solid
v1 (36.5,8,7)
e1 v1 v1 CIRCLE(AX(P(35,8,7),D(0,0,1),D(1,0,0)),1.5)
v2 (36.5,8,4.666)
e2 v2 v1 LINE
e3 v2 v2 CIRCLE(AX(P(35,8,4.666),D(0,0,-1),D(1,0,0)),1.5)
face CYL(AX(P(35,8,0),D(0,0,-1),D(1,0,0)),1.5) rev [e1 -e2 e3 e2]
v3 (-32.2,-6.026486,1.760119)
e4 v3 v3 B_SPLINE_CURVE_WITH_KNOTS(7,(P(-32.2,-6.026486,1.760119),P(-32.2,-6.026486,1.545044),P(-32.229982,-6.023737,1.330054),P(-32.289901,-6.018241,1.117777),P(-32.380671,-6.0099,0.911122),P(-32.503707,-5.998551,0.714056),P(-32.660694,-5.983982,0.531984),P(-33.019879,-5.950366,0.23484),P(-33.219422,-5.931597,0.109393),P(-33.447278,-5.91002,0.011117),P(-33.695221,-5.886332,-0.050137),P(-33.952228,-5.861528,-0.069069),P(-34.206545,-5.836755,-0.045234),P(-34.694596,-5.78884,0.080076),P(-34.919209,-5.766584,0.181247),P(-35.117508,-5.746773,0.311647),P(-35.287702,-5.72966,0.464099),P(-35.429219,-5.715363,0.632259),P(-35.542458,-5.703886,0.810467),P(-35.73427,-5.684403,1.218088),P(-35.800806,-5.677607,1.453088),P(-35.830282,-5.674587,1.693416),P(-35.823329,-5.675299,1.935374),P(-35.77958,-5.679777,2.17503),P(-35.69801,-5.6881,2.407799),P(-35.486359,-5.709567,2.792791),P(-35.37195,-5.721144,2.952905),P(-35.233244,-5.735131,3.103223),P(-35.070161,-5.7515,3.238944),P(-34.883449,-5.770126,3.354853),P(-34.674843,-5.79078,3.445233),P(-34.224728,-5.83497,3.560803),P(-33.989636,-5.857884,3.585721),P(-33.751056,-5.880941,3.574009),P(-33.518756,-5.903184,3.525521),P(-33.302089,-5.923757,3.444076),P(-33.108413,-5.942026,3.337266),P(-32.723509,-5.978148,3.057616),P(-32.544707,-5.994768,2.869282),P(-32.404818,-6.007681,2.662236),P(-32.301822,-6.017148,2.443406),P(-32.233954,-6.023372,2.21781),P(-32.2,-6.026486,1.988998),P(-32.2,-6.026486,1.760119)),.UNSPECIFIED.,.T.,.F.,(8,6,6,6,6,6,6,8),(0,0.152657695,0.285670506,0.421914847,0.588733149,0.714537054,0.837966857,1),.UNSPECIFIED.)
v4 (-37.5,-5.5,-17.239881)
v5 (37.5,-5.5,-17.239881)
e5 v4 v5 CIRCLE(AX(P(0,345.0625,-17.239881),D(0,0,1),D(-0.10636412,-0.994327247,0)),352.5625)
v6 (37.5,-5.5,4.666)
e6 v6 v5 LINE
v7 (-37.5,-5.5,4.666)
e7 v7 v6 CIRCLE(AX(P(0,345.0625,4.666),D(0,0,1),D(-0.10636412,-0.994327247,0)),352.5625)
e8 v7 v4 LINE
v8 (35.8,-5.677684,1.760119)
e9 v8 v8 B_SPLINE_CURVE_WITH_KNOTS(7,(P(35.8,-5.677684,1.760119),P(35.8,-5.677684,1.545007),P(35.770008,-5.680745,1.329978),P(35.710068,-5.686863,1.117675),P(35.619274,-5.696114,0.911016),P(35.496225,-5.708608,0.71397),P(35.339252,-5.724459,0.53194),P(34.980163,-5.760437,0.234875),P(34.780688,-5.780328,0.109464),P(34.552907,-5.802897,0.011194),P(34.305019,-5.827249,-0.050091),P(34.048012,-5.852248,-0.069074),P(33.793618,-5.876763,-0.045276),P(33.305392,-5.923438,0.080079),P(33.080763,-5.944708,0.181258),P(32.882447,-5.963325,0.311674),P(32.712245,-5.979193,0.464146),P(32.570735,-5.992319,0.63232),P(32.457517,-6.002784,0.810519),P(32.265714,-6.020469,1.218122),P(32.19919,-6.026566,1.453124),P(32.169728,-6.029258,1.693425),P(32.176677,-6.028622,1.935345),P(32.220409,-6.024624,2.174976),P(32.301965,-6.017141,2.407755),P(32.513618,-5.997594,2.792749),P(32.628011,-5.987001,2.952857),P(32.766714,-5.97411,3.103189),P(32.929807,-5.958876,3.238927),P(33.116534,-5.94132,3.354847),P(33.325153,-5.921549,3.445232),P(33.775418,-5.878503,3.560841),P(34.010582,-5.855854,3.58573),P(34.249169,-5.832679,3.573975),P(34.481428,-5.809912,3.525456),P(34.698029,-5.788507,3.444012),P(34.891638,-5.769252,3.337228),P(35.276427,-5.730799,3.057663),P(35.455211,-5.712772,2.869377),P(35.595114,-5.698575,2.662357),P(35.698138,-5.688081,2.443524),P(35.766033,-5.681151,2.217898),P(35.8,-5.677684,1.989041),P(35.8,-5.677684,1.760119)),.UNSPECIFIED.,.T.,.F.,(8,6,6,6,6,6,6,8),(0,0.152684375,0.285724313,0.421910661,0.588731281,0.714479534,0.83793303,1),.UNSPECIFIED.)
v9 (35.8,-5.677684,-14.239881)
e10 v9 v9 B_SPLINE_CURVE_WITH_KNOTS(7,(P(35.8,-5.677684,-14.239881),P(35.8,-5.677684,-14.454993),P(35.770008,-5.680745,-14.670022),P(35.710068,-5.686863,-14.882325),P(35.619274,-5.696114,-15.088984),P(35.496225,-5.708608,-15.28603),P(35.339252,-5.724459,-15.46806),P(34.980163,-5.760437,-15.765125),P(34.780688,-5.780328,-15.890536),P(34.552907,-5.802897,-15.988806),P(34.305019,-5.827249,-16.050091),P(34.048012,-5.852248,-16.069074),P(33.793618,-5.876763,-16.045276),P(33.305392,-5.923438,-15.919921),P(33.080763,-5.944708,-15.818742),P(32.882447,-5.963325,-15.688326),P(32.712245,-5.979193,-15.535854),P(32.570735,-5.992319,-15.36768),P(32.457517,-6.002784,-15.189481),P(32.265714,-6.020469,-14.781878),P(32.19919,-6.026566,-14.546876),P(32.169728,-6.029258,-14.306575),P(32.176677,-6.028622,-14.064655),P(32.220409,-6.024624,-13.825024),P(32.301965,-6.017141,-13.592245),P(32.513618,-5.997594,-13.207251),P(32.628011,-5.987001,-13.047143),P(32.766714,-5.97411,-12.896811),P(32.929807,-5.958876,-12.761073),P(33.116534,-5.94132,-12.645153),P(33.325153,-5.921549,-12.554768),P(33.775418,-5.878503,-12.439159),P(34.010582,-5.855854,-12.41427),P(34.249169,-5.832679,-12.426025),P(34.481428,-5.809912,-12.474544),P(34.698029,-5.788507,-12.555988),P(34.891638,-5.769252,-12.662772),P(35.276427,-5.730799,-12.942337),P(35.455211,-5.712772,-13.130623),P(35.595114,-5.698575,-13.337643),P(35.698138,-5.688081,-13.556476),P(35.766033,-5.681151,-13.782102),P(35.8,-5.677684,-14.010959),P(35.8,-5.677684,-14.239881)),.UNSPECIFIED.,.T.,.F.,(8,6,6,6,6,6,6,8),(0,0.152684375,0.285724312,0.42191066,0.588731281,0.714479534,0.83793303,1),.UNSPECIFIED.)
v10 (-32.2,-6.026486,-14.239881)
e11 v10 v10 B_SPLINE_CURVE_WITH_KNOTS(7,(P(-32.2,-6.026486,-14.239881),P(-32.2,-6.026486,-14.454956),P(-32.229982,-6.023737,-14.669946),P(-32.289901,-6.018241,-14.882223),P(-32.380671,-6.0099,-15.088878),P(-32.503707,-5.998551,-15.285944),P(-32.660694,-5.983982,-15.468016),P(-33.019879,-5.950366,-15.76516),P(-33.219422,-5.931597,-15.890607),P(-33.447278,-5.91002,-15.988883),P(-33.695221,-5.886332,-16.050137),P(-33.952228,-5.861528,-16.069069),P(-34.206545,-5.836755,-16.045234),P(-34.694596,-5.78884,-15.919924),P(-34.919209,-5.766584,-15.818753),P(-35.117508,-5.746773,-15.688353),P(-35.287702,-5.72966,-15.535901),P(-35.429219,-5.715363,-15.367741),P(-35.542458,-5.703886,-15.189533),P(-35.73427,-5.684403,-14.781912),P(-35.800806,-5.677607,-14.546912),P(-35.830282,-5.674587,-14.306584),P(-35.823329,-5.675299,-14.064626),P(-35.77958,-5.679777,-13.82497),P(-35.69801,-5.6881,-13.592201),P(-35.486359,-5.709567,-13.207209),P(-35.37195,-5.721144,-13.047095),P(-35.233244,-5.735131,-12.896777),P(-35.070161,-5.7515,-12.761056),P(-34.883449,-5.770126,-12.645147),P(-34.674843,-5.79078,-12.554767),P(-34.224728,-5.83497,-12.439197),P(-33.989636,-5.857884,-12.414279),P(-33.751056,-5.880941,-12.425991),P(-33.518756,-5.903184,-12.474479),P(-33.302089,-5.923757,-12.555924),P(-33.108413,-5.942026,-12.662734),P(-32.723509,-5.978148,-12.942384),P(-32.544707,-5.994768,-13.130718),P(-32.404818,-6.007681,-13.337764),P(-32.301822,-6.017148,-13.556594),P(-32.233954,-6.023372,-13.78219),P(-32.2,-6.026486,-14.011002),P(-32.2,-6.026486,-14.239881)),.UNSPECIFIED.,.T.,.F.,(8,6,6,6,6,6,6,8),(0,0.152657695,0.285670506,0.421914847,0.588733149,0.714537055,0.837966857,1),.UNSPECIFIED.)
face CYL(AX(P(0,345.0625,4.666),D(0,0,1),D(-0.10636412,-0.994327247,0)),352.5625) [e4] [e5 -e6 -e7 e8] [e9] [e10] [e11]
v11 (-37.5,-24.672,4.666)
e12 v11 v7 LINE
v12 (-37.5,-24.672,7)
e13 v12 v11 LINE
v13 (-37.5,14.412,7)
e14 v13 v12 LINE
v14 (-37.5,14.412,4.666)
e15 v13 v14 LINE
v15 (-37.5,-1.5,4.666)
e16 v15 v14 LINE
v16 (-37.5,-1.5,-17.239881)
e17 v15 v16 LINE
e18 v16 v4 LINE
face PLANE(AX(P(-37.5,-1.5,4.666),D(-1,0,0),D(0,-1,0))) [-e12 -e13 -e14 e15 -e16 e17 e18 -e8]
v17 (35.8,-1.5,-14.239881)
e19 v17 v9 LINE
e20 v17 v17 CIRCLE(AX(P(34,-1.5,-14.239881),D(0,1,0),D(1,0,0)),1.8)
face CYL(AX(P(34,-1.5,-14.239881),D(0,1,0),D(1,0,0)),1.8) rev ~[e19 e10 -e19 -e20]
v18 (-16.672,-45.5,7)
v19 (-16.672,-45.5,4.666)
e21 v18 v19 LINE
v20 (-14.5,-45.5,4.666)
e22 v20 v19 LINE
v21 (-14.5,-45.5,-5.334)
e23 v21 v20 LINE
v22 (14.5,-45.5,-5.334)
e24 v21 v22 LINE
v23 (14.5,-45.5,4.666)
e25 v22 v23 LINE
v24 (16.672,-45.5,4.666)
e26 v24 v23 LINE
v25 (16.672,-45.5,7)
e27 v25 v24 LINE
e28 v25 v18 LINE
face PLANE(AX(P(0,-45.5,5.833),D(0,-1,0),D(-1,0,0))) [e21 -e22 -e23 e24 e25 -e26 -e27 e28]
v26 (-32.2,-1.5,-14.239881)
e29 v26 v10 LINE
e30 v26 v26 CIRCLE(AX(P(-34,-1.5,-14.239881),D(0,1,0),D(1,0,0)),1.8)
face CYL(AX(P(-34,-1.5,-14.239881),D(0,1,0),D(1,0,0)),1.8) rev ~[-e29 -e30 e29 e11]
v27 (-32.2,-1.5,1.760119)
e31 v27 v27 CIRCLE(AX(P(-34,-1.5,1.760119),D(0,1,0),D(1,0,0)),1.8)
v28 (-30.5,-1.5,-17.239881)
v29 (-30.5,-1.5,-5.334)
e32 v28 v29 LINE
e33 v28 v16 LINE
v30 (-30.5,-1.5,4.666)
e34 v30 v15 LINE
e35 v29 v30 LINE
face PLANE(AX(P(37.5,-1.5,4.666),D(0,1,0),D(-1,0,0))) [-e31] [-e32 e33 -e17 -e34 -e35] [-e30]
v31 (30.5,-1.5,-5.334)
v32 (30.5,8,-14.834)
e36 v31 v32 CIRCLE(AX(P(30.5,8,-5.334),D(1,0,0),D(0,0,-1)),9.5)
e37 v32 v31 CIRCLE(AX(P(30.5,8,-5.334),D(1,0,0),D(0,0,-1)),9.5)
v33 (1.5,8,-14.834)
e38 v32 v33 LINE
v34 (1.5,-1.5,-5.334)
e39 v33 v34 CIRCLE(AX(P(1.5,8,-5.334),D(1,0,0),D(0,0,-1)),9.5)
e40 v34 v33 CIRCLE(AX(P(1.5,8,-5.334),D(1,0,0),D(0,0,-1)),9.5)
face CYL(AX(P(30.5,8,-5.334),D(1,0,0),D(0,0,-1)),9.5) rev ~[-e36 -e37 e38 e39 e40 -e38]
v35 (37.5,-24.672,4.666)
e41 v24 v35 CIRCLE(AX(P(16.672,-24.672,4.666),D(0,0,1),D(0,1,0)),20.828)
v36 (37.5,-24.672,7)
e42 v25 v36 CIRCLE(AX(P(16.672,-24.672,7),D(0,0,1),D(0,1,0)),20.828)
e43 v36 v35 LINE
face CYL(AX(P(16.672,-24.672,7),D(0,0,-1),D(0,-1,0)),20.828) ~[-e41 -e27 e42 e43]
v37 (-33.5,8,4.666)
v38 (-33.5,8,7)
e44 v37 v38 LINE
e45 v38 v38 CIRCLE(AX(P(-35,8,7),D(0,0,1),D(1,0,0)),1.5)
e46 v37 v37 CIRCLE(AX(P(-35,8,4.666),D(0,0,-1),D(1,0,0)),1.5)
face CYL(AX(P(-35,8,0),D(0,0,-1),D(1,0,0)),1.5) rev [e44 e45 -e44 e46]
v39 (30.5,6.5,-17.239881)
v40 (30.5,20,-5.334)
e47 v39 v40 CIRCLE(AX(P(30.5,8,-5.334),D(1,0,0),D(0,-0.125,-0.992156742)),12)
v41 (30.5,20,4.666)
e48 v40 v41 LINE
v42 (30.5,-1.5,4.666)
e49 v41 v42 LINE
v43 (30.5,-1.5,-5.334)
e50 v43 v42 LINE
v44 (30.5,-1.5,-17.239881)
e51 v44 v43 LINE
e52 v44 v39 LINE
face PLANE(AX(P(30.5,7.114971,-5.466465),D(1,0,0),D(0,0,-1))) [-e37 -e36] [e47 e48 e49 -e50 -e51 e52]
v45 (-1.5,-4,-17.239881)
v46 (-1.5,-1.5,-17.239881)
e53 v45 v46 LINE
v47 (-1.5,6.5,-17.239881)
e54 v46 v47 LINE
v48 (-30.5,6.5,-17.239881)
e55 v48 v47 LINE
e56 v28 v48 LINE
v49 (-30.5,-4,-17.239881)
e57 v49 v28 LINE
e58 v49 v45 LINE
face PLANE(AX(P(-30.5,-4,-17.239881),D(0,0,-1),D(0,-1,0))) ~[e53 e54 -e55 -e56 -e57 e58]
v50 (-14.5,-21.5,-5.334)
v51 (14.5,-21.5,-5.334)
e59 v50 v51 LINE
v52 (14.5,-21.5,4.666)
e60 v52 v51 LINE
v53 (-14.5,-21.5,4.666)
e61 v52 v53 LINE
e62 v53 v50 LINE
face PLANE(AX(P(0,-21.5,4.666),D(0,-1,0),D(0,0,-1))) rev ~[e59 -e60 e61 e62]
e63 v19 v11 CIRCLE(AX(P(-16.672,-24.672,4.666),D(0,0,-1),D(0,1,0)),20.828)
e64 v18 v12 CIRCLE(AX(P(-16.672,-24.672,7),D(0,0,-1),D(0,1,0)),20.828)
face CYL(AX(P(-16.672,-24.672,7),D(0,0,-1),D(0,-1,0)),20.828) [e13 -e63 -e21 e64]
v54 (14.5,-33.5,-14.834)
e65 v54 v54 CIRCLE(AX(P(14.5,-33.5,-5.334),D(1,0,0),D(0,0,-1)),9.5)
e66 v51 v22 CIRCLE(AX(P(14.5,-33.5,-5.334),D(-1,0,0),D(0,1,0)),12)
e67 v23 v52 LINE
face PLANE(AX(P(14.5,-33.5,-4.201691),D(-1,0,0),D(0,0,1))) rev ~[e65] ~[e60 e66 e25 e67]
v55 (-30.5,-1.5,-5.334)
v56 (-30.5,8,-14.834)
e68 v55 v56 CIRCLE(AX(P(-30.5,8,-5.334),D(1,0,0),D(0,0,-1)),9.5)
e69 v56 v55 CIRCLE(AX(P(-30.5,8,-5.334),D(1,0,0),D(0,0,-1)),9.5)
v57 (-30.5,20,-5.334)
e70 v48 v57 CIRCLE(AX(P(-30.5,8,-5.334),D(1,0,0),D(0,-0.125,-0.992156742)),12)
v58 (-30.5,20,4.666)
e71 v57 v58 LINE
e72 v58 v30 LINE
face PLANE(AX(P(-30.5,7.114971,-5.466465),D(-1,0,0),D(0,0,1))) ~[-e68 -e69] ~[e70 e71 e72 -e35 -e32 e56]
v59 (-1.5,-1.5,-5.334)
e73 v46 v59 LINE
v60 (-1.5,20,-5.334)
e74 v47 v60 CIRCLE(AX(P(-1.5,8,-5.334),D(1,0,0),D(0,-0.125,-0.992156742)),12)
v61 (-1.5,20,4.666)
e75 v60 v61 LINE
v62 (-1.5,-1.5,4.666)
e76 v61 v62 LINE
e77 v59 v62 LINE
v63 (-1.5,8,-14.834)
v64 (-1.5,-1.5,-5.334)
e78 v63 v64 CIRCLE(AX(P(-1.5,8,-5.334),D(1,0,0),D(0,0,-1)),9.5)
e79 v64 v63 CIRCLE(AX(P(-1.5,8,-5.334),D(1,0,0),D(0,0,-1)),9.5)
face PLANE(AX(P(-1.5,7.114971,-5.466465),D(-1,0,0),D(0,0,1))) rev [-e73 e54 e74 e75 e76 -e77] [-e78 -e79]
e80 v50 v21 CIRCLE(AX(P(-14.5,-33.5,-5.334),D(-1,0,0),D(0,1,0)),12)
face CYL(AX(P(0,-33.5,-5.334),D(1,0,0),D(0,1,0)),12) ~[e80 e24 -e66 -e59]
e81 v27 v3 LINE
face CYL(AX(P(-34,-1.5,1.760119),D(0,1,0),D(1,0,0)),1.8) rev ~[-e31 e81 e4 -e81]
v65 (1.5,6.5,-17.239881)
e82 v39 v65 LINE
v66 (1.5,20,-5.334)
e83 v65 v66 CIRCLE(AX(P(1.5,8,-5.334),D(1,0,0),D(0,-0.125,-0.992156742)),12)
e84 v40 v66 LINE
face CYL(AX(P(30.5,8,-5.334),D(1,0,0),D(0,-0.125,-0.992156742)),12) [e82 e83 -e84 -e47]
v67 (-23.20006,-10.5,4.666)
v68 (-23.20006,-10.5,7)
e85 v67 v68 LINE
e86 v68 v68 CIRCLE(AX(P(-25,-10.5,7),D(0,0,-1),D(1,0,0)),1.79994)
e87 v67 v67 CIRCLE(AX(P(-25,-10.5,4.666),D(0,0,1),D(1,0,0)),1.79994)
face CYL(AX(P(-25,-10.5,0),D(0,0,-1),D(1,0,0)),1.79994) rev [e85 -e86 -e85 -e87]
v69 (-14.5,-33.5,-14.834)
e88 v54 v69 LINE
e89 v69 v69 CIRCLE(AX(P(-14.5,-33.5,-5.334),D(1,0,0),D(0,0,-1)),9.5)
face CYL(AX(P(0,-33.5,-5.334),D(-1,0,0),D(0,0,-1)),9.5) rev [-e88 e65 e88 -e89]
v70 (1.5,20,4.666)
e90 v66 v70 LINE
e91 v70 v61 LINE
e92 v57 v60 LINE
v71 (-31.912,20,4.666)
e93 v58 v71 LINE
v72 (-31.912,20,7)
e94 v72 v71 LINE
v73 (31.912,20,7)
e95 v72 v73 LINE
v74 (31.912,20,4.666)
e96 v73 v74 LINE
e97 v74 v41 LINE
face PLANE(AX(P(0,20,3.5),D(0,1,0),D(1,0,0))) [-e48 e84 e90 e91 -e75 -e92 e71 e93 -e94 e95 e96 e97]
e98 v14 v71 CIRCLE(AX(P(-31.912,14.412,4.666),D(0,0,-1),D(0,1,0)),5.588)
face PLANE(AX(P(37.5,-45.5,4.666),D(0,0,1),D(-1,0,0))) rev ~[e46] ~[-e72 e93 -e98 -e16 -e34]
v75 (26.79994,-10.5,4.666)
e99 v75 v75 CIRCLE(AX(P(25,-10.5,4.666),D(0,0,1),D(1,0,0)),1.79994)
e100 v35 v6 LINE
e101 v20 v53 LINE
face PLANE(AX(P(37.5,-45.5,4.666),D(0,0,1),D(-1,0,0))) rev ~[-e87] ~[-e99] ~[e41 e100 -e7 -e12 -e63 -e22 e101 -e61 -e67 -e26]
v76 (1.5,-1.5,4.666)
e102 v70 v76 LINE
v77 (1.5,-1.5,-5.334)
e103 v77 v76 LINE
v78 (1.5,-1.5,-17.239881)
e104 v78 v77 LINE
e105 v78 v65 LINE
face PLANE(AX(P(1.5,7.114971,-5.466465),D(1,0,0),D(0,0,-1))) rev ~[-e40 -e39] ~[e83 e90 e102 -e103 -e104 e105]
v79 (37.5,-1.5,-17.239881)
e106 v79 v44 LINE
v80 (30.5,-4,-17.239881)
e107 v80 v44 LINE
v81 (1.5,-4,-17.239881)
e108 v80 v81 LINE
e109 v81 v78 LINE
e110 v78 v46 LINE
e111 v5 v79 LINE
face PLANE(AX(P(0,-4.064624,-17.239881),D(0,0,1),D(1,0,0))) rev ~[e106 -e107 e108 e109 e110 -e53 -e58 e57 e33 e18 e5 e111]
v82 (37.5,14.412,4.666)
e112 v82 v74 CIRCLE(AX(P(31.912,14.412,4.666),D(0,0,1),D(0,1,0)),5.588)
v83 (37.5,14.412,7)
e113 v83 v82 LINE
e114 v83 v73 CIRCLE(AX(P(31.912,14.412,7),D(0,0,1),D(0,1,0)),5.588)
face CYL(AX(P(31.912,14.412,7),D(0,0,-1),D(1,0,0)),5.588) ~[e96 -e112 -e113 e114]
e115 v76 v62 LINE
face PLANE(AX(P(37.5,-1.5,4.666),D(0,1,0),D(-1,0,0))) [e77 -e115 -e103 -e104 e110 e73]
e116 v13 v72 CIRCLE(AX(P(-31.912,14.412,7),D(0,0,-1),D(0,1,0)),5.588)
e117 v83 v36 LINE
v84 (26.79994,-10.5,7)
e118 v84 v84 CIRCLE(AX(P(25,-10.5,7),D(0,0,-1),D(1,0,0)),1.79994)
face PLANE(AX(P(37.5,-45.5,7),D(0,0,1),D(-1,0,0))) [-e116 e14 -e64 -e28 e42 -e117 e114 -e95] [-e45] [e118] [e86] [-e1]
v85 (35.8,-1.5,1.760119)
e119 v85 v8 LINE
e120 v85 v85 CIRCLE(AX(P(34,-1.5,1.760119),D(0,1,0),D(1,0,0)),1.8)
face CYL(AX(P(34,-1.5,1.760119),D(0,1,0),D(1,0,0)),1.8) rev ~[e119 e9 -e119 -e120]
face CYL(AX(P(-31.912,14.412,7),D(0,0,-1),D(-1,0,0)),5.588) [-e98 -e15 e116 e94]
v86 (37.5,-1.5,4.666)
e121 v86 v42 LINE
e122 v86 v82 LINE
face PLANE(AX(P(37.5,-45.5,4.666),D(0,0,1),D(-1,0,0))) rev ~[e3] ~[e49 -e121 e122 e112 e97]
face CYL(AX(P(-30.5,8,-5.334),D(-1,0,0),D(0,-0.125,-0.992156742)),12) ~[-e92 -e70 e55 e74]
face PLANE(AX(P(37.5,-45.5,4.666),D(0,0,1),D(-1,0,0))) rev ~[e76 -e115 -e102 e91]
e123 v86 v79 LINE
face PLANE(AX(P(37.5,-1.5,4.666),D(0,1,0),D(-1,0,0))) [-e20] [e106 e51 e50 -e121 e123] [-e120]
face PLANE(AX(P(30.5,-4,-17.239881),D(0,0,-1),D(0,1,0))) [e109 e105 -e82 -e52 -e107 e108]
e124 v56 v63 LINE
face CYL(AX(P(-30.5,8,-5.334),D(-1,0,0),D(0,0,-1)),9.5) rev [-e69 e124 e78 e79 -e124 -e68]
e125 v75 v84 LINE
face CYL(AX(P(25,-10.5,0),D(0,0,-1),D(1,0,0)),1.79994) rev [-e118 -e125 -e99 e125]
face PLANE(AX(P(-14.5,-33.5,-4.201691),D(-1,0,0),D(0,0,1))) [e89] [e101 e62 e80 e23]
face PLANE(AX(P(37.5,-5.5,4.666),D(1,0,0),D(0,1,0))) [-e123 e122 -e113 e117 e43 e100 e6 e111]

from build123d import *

# Parameters (mm, degrees)
SKETCH1_R            = 1.79994
SKETCH1_R_2          = 1.5
BOSS_EXTRUDE1_DEPTH  = 7
SKETCH2_W            = 75
SKETCH2_H            = 13.099999962
SKETCH2_R            = 2.6999438
SKETCH2_R_2          = 2.499995
SKETCH2_R_3          = 1.3498449
BOSS_EXTRUDE2_DEPTH  = 6.987999994
SKETCH2_3_R          = 2.6999438
SKETCH2_3_R_2        = 1.3498449
CUT_EXTRUDE1_DEPTH   = 2.5
SKETCH5_W            = 75
SKETCH5_H            = 13.099999962
CUT_EXTRUDE3_DEPTH   = 21.082
SKETCH6_W            = 75
SKETCH6_H            = 7
BOSS_EXTRUDE3_DEPTH  = 9.5
SKETCH8_W            = 75
SKETCH8_H            = 38.030205227
CUT_EXTRUDE4_DEPTH   = 4.666
SKETCH10_W           = 75
SKETCH10_H           = 2.334
BOSS_EXTRUDE5_DEPTH  = 35
SKETCH11_R           = 1.79994
CUT_EXTRUDE5_DEPTH   = 5
SKETCH15_W           = 44.653530321
SKETCH15_H           = 13.617301916
SKETCH15_W_2         = 11.728266088
SKETCH15_H_2         = 5.987537529
BOSS_EXTRUDE7_DEPTH  = 2.334
SKETCH16_R           = 9.5
BOSS_EXTRUDE9_DEPTH  = 29
SKETCH17_R           = 9.5
BOSS_EXTRUDE11_DEPTH = 14.5
FILLET5_R            = 20.828
FILLET6_R            = 5.588
BOSS_EXTRUDE13_DEPTH = 21.905881
CUT_EXTRUDE6_REACH   = 46
SKETCH21_R           = 1.8


with BuildPart() as part:
    # Sketch1 → Boss-Extrude1 (new body)
    with BuildSketch(Plane.XY):
        with BuildLine():
            Line((37.5, -10.5), (30, -10.5))
            ThreePointArc((30, -10.5), (25, -15.5), (20, -10.5))
            Line((20, -10.5), (5, -10.5))
            ThreePointArc((5, -10.5), (0, -15.5), (-5, -10.5))
            Line((-5, -10.5), (-20, -10.5))
            ThreePointArc((-20, -10.5), (-25, -15.5), (-30, -10.5))
            Line((-30, -10.5), (-37.5, -10.5))
            Line((-37.5, -10.5), (-37.5, 10.5))
            Line((-37.5, 10.5), (37.5, 10.5))
            Line((37.5, 10.5), (37.5, -10.5))
        make_face()
        with Locations((-25, -10.5)):
            Circle(SKETCH1_R, mode=Mode.SUBTRACT)
        with Locations((0, -10.5)):
            Circle(SKETCH1_R, mode=Mode.SUBTRACT)
        with Locations((25, -10.5)):
            Circle(SKETCH1_R, mode=Mode.SUBTRACT)
        with Locations((-35, 8)):
            Circle(SKETCH1_R_2, mode=Mode.SUBTRACT)
        with Locations((-15, 8)):
            Circle(SKETCH1_R_2, mode=Mode.SUBTRACT)
        with Locations((-10, 8)):
            Circle(SKETCH1_R_2, mode=Mode.SUBTRACT)
        with Locations((10, 8)):
            Circle(SKETCH1_R_2, mode=Mode.SUBTRACT)
        with Locations((35, 8)):
            Circle(SKETCH1_R_2, mode=Mode.SUBTRACT)
        with Locations((15, 8)):
            Circle(SKETCH1_R_2, mode=Mode.SUBTRACT)
    extrude(amount=BOSS_EXTRUDE1_DEPTH)

    # Sketch2 → Boss-Extrude2 (add)
    with BuildSketch(Plane(origin=(0, 2.24999999, 0), x_dir=(1, 0, 0), z_dir=(0, 1, 0))):
        with Locations((0, -13.549999981)):
            Rectangle(SKETCH2_W, SKETCH2_H)
        with Locations((31.0001404, -13.549999981)):
            Circle(SKETCH2_R, mode=Mode.SUBTRACT)
        with Locations((-31.0001404, -13.549999981)):
            Circle(SKETCH2_R, mode=Mode.SUBTRACT)
        with Locations((-25, -13.549999981)):
            Circle(SKETCH2_R_2, mode=Mode.SUBTRACT)
        with Locations((-6.0001404, -13.549999981)):
            Circle(SKETCH2_R, mode=Mode.SUBTRACT)
        with Locations((6.0001404, -13.549999981)):
            Circle(SKETCH2_R, mode=Mode.SUBTRACT)
        with Locations((0, -13.549999981)):
            Circle(SKETCH2_R_2, mode=Mode.SUBTRACT)
        with Locations((-18.9998596, -13.549999981)):
            Circle(SKETCH2_R, mode=Mode.SUBTRACT)
        with Locations((25, -13.549999981)):
            Circle(SKETCH2_R_2, mode=Mode.SUBTRACT)
        with Locations((18.9998596, -13.549999981)):
            Circle(SKETCH2_R, mode=Mode.SUBTRACT)
        with Locations((-31.0001404, -13.549999981)):
            Circle(SKETCH2_R)
        with Locations((-31.0001404, -13.549999981)):
            Circle(SKETCH2_R_3, mode=Mode.SUBTRACT)
        with Locations((-18.9998596, -13.549999981)):
            Circle(SKETCH2_R)
        with Locations((-18.9998596, -13.549999981)):
            Circle(SKETCH2_R_3, mode=Mode.SUBTRACT)
        with Locations((-6.0001404, -13.549999981)):
            Circle(SKETCH2_R)
        with Locations((-6.0001404, -13.549999981)):
            Circle(SKETCH2_R_3, mode=Mode.SUBTRACT)
        with Locations((6.0001404, -13.549999981)):
            Circle(SKETCH2_R)
        with Locations((6.0001404, -13.549999981)):
            Circle(SKETCH2_R_3, mode=Mode.SUBTRACT)
        with Locations((18.9998596, -13.549999981)):
            Circle(SKETCH2_R)
        with Locations((18.9998596, -13.549999981)):
            Circle(SKETCH2_R_3, mode=Mode.SUBTRACT)
        with Locations((31.0001404, -13.549999981)):
            Circle(SKETCH2_R)
        with Locations((31.0001404, -13.549999981)):
            Circle(SKETCH2_R_3, mode=Mode.SUBTRACT)
    extrude(amount=-BOSS_EXTRUDE2_DEPTH)

    # Sketch2<3> → Cut-Extrude1 (cut)
    with BuildSketch(Plane(origin=(0, 2.24999999, 0), x_dir=(1, 0, 0), z_dir=(0, 1, 0))):
        with Locations((-31.0001404, -13.549999981)):
            Circle(SKETCH2_3_R)
        with Locations((-31.0001404, -13.549999981)):
            Circle(SKETCH2_3_R_2, mode=Mode.SUBTRACT)
        with Locations((-18.9998596, -13.549999981)):
            Circle(SKETCH2_3_R)
        with Locations((-18.9998596, -13.549999981)):
            Circle(SKETCH2_3_R_2, mode=Mode.SUBTRACT)
        with Locations((-6.0001404, -13.549999981)):
            Circle(SKETCH2_3_R)
        with Locations((-6.0001404, -13.549999981)):
            Circle(SKETCH2_3_R_2, mode=Mode.SUBTRACT)
        with Locations((6.0001404, -13.549999981)):
            Circle(SKETCH2_3_R)
        with Locations((6.0001404, -13.549999981)):
            Circle(SKETCH2_3_R_2, mode=Mode.SUBTRACT)
        with Locations((18.9998596, -13.549999981)):
            Circle(SKETCH2_3_R)
        with Locations((18.9998596, -13.549999981)):
            Circle(SKETCH2_3_R_2, mode=Mode.SUBTRACT)
        with Locations((31.0001404, -13.549999981)):
            Circle(SKETCH2_3_R)
        with Locations((31.0001404, -13.549999981)):
            Circle(SKETCH2_3_R_2, mode=Mode.SUBTRACT)
    extrude(amount=-CUT_EXTRUDE1_DEPTH, mode=Mode.SUBTRACT)

    # Sketch5 → Cut-Extrude3 (cut)
    with BuildSketch(Plane(origin=(0, 2.24999999, 0), x_dir=(1, 0, 0), z_dir=(0, 1, 0))):
        with Locations((0, -13.549999981)):
            Rectangle(SKETCH5_W, SKETCH5_H)
    extrude(amount=-CUT_EXTRUDE3_DEPTH, mode=Mode.SUBTRACT)

    # Sketch6 → Boss-Extrude3 (add)
    with BuildSketch(Plane(origin=(0, 10.5, 0), x_dir=(1, 0, 0), z_dir=(0, 1, 0))):
        with Locations((0, -3.5)):
            Rectangle(SKETCH6_W, SKETCH6_H)
    extrude(amount=BOSS_EXTRUDE3_DEPTH)

    # Sketch8 → Cut-Extrude4 (cut)
    with BuildSketch(Plane(origin=(0, 0, 0), x_dir=(-1, 0, 0), z_dir=(0, 0, -1))):
        with Locations((0, 0.984897387)):
            Rectangle(SKETCH8_W, SKETCH8_H)
    extrude(amount=-CUT_EXTRUDE4_DEPTH, mode=Mode.SUBTRACT)

    # Sketch10 → Boss-Extrude5 (add)
    with BuildSketch(Plane(origin=(0, -45.5, 0), x_dir=(-1, 0, 0), z_dir=(0, -1, 0))):
        with Locations((0, -5.833)):
            Rectangle(SKETCH10_W, SKETCH10_H)
    extrude(amount=-BOSS_EXTRUDE5_DEPTH)

    # Sketch11 → Cut-Extrude5 (cut)
    with BuildSketch(Plane(origin=(0, 0, 4.666), x_dir=(-1, 0, 0), z_dir=(0, 0, -1))):
        with Locations((-25, -10.5)):
            Circle(SKETCH11_R)
        with Locations((0, -10.5)):
            Circle(SKETCH11_R)
        with Locations((25, -10.5)):
            Circle(SKETCH11_R)
    extrude(amount=-CUT_EXTRUDE5_DEPTH, mode=Mode.SUBTRACT)

    # Sketch15 → Boss-Extrude7 (add)
    with BuildSketch(Plane.XY.offset(7)):
        with Locations((1.804442165, 8.803924913)):
            Rectangle(SKETCH15_W, SKETCH15_H)
        with Locations((-1.501191344, -11.287680254)):
            Rectangle(SKETCH15_W_2, SKETCH15_H_2)
    extrude(amount=-BOSS_EXTRUDE7_DEPTH)


with BuildPart() as body_2:
    # Sketch16 → Boss-Extrude9 (new body)
    with BuildSketch(Plane(origin=(30.50000003, 0, 0), x_dir=(0, 0, -1), z_dir=(1, 0, 0))):
        with BuildLine():
            Line((-4.666, -4), (5.334, -4))
            Line((5.334, -4), (17.2398809, -4))
            Line((17.2398809, -4), (17.2398809, 6.5))
            ThreePointArc((17.2398809, 6.5), (14.334, 15.937253933), (5.334, 20))
            Line((5.334, 20), (-4.666, 20))
            Line((-4.666, 20), (-4.666, -4))
        make_face()
        with Locations((5.334, 8)):
            Circle(SKETCH16_R, mode=Mode.SUBTRACT)
    extrude(amount=-BOSS_EXTRUDE9_DEPTH)


with BuildPart() as body_3:
    # Mirror1: mirrored copy
    add(body_2.part.mirror(Plane(origin=(0, 0, 0), x_dir=(0, 0, 1), z_dir=(1, 0, 0))))

    # Combine1: union body 2, part
    add(body_2.part)
    add(part.part)

    # Sketch17 → Boss-Extrude11 (add, symmetric)
    with BuildSketch(Plane(origin=(0, 0, 0), x_dir=(0, 0, -1), z_dir=(1, 0, 0))):
        with BuildLine():
            Line((5.334, -45.5), (-4.666, -45.5))
            Line((-4.666, -45.5), (-4.666, -21.5))
            Line((-4.666, -21.5), (5.334, -21.5))
            ThreePointArc((5.334, -21.5), (17.334, -33.5), (5.334, -45.5))
        make_face()
        with Locations((5.334, -33.5)):
            Circle(SKETCH17_R, mode=Mode.SUBTRACT)
    extrude(amount=BOSS_EXTRUDE11_DEPTH, both=True)

    # Fillet5
    fillet5_edges = [body_3.edges().sort_by_distance(p)[0] for p in [
        (37.5, -45.5, 5.833),
        (-37.5, -45.5, 5.833),
    ]]
    fillet(fillet5_edges, radius=FILLET5_R)

    # Fillet6
    fillet6_edges = [body_3.edges().sort_by_distance(p)[0] for p in [
        (-37.5, 20, 5.833),
        (37.5, 20, 5.833),
    ]]
    fillet(fillet6_edges, radius=FILLET6_R)

    # Sketch20 → Boss-Extrude13 (add)
    with BuildSketch(Plane(origin=(0, 0, 4.666), x_dir=(-1, 0, 0), z_dir=(0, 0, -1))):
        with BuildLine():
            Line((-37.5, -1.5), (37.5, -1.5))
            Line((37.5, -1.5), (37.5, -5.5))
            ThreePointArc((37.5, -5.5), (0, -7.5), (-37.5, -5.5))
            Line((-37.5, -5.5), (-37.5, -1.5))
        make_face()
    extrude(amount=BOSS_EXTRUDE13_DEPTH)

    # Sketch21 → Cut-Extrude6 (cut, up to next)
    with BuildSketch(Plane(origin=(0, -1.5, 0), x_dir=(1, 0, 0), z_dir=(0, 1, 0)), mode=Mode.PRIVATE) as cut_extrude6_sk1:
        with Locations((34, 14.2398809)):
            Circle(SKETCH21_R)
    cut_extrude6_tool1 = extrude(cut_extrude6_sk1.sketch, amount=-CUT_EXTRUDE6_REACH, mode=Mode.PRIVATE) & body_3.part
    add(cut_extrude6_tool1.solids().sort_by_distance((34, -1.5, -14.239881))[0], mode=Mode.SUBTRACT)
    # Sketch21 → Cut-Extrude6 (cut, up to next)
    with BuildSketch(Plane(origin=(0, -1.5, 0), x_dir=(1, 0, 0), z_dir=(0, 1, 0)), mode=Mode.PRIVATE) as cut_extrude6_sk2:
        with Locations((34, -1.7601191)):
            Circle(SKETCH21_R)
    cut_extrude6_tool2 = extrude(cut_extrude6_sk2.sketch, amount=-CUT_EXTRUDE6_REACH, mode=Mode.PRIVATE) & body_3.part
    add(cut_extrude6_tool2.solids().sort_by_distance((34, -1.5, 1.760119))[0], mode=Mode.SUBTRACT)
    # Sketch21 → Cut-Extrude6 (cut, up to next)
    with BuildSketch(Plane(origin=(0, -1.5, 0), x_dir=(1, 0, 0), z_dir=(0, 1, 0)), mode=Mode.PRIVATE) as cut_extrude6_sk3:
        with Locations((-34, -1.7601191)):
            Circle(SKETCH21_R)
    cut_extrude6_tool3 = extrude(cut_extrude6_sk3.sketch, amount=-CUT_EXTRUDE6_REACH, mode=Mode.PRIVATE) & body_3.part
    add(cut_extrude6_tool3.solids().sort_by_distance((-34, -1.5, 1.760119))[0], mode=Mode.SUBTRACT)
    # Sketch21 → Cut-Extrude6 (cut, up to next)
    with BuildSketch(Plane(origin=(0, -1.5, 0), x_dir=(1, 0, 0), z_dir=(0, 1, 0)), mode=Mode.PRIVATE) as cut_extrude6_sk4:
        with Locations((-34, 14.2398809)):
            Circle(SKETCH21_R)
    cut_extrude6_tool4 = extrude(cut_extrude6_sk4.sketch, amount=-CUT_EXTRUDE6_REACH, mode=Mode.PRIVATE) & body_3.part
    add(cut_extrude6_tool4.solids().sort_by_distance((-34, -1.5, -14.239881))[0], mode=Mode.SUBTRACT)


solid = body_3.part
